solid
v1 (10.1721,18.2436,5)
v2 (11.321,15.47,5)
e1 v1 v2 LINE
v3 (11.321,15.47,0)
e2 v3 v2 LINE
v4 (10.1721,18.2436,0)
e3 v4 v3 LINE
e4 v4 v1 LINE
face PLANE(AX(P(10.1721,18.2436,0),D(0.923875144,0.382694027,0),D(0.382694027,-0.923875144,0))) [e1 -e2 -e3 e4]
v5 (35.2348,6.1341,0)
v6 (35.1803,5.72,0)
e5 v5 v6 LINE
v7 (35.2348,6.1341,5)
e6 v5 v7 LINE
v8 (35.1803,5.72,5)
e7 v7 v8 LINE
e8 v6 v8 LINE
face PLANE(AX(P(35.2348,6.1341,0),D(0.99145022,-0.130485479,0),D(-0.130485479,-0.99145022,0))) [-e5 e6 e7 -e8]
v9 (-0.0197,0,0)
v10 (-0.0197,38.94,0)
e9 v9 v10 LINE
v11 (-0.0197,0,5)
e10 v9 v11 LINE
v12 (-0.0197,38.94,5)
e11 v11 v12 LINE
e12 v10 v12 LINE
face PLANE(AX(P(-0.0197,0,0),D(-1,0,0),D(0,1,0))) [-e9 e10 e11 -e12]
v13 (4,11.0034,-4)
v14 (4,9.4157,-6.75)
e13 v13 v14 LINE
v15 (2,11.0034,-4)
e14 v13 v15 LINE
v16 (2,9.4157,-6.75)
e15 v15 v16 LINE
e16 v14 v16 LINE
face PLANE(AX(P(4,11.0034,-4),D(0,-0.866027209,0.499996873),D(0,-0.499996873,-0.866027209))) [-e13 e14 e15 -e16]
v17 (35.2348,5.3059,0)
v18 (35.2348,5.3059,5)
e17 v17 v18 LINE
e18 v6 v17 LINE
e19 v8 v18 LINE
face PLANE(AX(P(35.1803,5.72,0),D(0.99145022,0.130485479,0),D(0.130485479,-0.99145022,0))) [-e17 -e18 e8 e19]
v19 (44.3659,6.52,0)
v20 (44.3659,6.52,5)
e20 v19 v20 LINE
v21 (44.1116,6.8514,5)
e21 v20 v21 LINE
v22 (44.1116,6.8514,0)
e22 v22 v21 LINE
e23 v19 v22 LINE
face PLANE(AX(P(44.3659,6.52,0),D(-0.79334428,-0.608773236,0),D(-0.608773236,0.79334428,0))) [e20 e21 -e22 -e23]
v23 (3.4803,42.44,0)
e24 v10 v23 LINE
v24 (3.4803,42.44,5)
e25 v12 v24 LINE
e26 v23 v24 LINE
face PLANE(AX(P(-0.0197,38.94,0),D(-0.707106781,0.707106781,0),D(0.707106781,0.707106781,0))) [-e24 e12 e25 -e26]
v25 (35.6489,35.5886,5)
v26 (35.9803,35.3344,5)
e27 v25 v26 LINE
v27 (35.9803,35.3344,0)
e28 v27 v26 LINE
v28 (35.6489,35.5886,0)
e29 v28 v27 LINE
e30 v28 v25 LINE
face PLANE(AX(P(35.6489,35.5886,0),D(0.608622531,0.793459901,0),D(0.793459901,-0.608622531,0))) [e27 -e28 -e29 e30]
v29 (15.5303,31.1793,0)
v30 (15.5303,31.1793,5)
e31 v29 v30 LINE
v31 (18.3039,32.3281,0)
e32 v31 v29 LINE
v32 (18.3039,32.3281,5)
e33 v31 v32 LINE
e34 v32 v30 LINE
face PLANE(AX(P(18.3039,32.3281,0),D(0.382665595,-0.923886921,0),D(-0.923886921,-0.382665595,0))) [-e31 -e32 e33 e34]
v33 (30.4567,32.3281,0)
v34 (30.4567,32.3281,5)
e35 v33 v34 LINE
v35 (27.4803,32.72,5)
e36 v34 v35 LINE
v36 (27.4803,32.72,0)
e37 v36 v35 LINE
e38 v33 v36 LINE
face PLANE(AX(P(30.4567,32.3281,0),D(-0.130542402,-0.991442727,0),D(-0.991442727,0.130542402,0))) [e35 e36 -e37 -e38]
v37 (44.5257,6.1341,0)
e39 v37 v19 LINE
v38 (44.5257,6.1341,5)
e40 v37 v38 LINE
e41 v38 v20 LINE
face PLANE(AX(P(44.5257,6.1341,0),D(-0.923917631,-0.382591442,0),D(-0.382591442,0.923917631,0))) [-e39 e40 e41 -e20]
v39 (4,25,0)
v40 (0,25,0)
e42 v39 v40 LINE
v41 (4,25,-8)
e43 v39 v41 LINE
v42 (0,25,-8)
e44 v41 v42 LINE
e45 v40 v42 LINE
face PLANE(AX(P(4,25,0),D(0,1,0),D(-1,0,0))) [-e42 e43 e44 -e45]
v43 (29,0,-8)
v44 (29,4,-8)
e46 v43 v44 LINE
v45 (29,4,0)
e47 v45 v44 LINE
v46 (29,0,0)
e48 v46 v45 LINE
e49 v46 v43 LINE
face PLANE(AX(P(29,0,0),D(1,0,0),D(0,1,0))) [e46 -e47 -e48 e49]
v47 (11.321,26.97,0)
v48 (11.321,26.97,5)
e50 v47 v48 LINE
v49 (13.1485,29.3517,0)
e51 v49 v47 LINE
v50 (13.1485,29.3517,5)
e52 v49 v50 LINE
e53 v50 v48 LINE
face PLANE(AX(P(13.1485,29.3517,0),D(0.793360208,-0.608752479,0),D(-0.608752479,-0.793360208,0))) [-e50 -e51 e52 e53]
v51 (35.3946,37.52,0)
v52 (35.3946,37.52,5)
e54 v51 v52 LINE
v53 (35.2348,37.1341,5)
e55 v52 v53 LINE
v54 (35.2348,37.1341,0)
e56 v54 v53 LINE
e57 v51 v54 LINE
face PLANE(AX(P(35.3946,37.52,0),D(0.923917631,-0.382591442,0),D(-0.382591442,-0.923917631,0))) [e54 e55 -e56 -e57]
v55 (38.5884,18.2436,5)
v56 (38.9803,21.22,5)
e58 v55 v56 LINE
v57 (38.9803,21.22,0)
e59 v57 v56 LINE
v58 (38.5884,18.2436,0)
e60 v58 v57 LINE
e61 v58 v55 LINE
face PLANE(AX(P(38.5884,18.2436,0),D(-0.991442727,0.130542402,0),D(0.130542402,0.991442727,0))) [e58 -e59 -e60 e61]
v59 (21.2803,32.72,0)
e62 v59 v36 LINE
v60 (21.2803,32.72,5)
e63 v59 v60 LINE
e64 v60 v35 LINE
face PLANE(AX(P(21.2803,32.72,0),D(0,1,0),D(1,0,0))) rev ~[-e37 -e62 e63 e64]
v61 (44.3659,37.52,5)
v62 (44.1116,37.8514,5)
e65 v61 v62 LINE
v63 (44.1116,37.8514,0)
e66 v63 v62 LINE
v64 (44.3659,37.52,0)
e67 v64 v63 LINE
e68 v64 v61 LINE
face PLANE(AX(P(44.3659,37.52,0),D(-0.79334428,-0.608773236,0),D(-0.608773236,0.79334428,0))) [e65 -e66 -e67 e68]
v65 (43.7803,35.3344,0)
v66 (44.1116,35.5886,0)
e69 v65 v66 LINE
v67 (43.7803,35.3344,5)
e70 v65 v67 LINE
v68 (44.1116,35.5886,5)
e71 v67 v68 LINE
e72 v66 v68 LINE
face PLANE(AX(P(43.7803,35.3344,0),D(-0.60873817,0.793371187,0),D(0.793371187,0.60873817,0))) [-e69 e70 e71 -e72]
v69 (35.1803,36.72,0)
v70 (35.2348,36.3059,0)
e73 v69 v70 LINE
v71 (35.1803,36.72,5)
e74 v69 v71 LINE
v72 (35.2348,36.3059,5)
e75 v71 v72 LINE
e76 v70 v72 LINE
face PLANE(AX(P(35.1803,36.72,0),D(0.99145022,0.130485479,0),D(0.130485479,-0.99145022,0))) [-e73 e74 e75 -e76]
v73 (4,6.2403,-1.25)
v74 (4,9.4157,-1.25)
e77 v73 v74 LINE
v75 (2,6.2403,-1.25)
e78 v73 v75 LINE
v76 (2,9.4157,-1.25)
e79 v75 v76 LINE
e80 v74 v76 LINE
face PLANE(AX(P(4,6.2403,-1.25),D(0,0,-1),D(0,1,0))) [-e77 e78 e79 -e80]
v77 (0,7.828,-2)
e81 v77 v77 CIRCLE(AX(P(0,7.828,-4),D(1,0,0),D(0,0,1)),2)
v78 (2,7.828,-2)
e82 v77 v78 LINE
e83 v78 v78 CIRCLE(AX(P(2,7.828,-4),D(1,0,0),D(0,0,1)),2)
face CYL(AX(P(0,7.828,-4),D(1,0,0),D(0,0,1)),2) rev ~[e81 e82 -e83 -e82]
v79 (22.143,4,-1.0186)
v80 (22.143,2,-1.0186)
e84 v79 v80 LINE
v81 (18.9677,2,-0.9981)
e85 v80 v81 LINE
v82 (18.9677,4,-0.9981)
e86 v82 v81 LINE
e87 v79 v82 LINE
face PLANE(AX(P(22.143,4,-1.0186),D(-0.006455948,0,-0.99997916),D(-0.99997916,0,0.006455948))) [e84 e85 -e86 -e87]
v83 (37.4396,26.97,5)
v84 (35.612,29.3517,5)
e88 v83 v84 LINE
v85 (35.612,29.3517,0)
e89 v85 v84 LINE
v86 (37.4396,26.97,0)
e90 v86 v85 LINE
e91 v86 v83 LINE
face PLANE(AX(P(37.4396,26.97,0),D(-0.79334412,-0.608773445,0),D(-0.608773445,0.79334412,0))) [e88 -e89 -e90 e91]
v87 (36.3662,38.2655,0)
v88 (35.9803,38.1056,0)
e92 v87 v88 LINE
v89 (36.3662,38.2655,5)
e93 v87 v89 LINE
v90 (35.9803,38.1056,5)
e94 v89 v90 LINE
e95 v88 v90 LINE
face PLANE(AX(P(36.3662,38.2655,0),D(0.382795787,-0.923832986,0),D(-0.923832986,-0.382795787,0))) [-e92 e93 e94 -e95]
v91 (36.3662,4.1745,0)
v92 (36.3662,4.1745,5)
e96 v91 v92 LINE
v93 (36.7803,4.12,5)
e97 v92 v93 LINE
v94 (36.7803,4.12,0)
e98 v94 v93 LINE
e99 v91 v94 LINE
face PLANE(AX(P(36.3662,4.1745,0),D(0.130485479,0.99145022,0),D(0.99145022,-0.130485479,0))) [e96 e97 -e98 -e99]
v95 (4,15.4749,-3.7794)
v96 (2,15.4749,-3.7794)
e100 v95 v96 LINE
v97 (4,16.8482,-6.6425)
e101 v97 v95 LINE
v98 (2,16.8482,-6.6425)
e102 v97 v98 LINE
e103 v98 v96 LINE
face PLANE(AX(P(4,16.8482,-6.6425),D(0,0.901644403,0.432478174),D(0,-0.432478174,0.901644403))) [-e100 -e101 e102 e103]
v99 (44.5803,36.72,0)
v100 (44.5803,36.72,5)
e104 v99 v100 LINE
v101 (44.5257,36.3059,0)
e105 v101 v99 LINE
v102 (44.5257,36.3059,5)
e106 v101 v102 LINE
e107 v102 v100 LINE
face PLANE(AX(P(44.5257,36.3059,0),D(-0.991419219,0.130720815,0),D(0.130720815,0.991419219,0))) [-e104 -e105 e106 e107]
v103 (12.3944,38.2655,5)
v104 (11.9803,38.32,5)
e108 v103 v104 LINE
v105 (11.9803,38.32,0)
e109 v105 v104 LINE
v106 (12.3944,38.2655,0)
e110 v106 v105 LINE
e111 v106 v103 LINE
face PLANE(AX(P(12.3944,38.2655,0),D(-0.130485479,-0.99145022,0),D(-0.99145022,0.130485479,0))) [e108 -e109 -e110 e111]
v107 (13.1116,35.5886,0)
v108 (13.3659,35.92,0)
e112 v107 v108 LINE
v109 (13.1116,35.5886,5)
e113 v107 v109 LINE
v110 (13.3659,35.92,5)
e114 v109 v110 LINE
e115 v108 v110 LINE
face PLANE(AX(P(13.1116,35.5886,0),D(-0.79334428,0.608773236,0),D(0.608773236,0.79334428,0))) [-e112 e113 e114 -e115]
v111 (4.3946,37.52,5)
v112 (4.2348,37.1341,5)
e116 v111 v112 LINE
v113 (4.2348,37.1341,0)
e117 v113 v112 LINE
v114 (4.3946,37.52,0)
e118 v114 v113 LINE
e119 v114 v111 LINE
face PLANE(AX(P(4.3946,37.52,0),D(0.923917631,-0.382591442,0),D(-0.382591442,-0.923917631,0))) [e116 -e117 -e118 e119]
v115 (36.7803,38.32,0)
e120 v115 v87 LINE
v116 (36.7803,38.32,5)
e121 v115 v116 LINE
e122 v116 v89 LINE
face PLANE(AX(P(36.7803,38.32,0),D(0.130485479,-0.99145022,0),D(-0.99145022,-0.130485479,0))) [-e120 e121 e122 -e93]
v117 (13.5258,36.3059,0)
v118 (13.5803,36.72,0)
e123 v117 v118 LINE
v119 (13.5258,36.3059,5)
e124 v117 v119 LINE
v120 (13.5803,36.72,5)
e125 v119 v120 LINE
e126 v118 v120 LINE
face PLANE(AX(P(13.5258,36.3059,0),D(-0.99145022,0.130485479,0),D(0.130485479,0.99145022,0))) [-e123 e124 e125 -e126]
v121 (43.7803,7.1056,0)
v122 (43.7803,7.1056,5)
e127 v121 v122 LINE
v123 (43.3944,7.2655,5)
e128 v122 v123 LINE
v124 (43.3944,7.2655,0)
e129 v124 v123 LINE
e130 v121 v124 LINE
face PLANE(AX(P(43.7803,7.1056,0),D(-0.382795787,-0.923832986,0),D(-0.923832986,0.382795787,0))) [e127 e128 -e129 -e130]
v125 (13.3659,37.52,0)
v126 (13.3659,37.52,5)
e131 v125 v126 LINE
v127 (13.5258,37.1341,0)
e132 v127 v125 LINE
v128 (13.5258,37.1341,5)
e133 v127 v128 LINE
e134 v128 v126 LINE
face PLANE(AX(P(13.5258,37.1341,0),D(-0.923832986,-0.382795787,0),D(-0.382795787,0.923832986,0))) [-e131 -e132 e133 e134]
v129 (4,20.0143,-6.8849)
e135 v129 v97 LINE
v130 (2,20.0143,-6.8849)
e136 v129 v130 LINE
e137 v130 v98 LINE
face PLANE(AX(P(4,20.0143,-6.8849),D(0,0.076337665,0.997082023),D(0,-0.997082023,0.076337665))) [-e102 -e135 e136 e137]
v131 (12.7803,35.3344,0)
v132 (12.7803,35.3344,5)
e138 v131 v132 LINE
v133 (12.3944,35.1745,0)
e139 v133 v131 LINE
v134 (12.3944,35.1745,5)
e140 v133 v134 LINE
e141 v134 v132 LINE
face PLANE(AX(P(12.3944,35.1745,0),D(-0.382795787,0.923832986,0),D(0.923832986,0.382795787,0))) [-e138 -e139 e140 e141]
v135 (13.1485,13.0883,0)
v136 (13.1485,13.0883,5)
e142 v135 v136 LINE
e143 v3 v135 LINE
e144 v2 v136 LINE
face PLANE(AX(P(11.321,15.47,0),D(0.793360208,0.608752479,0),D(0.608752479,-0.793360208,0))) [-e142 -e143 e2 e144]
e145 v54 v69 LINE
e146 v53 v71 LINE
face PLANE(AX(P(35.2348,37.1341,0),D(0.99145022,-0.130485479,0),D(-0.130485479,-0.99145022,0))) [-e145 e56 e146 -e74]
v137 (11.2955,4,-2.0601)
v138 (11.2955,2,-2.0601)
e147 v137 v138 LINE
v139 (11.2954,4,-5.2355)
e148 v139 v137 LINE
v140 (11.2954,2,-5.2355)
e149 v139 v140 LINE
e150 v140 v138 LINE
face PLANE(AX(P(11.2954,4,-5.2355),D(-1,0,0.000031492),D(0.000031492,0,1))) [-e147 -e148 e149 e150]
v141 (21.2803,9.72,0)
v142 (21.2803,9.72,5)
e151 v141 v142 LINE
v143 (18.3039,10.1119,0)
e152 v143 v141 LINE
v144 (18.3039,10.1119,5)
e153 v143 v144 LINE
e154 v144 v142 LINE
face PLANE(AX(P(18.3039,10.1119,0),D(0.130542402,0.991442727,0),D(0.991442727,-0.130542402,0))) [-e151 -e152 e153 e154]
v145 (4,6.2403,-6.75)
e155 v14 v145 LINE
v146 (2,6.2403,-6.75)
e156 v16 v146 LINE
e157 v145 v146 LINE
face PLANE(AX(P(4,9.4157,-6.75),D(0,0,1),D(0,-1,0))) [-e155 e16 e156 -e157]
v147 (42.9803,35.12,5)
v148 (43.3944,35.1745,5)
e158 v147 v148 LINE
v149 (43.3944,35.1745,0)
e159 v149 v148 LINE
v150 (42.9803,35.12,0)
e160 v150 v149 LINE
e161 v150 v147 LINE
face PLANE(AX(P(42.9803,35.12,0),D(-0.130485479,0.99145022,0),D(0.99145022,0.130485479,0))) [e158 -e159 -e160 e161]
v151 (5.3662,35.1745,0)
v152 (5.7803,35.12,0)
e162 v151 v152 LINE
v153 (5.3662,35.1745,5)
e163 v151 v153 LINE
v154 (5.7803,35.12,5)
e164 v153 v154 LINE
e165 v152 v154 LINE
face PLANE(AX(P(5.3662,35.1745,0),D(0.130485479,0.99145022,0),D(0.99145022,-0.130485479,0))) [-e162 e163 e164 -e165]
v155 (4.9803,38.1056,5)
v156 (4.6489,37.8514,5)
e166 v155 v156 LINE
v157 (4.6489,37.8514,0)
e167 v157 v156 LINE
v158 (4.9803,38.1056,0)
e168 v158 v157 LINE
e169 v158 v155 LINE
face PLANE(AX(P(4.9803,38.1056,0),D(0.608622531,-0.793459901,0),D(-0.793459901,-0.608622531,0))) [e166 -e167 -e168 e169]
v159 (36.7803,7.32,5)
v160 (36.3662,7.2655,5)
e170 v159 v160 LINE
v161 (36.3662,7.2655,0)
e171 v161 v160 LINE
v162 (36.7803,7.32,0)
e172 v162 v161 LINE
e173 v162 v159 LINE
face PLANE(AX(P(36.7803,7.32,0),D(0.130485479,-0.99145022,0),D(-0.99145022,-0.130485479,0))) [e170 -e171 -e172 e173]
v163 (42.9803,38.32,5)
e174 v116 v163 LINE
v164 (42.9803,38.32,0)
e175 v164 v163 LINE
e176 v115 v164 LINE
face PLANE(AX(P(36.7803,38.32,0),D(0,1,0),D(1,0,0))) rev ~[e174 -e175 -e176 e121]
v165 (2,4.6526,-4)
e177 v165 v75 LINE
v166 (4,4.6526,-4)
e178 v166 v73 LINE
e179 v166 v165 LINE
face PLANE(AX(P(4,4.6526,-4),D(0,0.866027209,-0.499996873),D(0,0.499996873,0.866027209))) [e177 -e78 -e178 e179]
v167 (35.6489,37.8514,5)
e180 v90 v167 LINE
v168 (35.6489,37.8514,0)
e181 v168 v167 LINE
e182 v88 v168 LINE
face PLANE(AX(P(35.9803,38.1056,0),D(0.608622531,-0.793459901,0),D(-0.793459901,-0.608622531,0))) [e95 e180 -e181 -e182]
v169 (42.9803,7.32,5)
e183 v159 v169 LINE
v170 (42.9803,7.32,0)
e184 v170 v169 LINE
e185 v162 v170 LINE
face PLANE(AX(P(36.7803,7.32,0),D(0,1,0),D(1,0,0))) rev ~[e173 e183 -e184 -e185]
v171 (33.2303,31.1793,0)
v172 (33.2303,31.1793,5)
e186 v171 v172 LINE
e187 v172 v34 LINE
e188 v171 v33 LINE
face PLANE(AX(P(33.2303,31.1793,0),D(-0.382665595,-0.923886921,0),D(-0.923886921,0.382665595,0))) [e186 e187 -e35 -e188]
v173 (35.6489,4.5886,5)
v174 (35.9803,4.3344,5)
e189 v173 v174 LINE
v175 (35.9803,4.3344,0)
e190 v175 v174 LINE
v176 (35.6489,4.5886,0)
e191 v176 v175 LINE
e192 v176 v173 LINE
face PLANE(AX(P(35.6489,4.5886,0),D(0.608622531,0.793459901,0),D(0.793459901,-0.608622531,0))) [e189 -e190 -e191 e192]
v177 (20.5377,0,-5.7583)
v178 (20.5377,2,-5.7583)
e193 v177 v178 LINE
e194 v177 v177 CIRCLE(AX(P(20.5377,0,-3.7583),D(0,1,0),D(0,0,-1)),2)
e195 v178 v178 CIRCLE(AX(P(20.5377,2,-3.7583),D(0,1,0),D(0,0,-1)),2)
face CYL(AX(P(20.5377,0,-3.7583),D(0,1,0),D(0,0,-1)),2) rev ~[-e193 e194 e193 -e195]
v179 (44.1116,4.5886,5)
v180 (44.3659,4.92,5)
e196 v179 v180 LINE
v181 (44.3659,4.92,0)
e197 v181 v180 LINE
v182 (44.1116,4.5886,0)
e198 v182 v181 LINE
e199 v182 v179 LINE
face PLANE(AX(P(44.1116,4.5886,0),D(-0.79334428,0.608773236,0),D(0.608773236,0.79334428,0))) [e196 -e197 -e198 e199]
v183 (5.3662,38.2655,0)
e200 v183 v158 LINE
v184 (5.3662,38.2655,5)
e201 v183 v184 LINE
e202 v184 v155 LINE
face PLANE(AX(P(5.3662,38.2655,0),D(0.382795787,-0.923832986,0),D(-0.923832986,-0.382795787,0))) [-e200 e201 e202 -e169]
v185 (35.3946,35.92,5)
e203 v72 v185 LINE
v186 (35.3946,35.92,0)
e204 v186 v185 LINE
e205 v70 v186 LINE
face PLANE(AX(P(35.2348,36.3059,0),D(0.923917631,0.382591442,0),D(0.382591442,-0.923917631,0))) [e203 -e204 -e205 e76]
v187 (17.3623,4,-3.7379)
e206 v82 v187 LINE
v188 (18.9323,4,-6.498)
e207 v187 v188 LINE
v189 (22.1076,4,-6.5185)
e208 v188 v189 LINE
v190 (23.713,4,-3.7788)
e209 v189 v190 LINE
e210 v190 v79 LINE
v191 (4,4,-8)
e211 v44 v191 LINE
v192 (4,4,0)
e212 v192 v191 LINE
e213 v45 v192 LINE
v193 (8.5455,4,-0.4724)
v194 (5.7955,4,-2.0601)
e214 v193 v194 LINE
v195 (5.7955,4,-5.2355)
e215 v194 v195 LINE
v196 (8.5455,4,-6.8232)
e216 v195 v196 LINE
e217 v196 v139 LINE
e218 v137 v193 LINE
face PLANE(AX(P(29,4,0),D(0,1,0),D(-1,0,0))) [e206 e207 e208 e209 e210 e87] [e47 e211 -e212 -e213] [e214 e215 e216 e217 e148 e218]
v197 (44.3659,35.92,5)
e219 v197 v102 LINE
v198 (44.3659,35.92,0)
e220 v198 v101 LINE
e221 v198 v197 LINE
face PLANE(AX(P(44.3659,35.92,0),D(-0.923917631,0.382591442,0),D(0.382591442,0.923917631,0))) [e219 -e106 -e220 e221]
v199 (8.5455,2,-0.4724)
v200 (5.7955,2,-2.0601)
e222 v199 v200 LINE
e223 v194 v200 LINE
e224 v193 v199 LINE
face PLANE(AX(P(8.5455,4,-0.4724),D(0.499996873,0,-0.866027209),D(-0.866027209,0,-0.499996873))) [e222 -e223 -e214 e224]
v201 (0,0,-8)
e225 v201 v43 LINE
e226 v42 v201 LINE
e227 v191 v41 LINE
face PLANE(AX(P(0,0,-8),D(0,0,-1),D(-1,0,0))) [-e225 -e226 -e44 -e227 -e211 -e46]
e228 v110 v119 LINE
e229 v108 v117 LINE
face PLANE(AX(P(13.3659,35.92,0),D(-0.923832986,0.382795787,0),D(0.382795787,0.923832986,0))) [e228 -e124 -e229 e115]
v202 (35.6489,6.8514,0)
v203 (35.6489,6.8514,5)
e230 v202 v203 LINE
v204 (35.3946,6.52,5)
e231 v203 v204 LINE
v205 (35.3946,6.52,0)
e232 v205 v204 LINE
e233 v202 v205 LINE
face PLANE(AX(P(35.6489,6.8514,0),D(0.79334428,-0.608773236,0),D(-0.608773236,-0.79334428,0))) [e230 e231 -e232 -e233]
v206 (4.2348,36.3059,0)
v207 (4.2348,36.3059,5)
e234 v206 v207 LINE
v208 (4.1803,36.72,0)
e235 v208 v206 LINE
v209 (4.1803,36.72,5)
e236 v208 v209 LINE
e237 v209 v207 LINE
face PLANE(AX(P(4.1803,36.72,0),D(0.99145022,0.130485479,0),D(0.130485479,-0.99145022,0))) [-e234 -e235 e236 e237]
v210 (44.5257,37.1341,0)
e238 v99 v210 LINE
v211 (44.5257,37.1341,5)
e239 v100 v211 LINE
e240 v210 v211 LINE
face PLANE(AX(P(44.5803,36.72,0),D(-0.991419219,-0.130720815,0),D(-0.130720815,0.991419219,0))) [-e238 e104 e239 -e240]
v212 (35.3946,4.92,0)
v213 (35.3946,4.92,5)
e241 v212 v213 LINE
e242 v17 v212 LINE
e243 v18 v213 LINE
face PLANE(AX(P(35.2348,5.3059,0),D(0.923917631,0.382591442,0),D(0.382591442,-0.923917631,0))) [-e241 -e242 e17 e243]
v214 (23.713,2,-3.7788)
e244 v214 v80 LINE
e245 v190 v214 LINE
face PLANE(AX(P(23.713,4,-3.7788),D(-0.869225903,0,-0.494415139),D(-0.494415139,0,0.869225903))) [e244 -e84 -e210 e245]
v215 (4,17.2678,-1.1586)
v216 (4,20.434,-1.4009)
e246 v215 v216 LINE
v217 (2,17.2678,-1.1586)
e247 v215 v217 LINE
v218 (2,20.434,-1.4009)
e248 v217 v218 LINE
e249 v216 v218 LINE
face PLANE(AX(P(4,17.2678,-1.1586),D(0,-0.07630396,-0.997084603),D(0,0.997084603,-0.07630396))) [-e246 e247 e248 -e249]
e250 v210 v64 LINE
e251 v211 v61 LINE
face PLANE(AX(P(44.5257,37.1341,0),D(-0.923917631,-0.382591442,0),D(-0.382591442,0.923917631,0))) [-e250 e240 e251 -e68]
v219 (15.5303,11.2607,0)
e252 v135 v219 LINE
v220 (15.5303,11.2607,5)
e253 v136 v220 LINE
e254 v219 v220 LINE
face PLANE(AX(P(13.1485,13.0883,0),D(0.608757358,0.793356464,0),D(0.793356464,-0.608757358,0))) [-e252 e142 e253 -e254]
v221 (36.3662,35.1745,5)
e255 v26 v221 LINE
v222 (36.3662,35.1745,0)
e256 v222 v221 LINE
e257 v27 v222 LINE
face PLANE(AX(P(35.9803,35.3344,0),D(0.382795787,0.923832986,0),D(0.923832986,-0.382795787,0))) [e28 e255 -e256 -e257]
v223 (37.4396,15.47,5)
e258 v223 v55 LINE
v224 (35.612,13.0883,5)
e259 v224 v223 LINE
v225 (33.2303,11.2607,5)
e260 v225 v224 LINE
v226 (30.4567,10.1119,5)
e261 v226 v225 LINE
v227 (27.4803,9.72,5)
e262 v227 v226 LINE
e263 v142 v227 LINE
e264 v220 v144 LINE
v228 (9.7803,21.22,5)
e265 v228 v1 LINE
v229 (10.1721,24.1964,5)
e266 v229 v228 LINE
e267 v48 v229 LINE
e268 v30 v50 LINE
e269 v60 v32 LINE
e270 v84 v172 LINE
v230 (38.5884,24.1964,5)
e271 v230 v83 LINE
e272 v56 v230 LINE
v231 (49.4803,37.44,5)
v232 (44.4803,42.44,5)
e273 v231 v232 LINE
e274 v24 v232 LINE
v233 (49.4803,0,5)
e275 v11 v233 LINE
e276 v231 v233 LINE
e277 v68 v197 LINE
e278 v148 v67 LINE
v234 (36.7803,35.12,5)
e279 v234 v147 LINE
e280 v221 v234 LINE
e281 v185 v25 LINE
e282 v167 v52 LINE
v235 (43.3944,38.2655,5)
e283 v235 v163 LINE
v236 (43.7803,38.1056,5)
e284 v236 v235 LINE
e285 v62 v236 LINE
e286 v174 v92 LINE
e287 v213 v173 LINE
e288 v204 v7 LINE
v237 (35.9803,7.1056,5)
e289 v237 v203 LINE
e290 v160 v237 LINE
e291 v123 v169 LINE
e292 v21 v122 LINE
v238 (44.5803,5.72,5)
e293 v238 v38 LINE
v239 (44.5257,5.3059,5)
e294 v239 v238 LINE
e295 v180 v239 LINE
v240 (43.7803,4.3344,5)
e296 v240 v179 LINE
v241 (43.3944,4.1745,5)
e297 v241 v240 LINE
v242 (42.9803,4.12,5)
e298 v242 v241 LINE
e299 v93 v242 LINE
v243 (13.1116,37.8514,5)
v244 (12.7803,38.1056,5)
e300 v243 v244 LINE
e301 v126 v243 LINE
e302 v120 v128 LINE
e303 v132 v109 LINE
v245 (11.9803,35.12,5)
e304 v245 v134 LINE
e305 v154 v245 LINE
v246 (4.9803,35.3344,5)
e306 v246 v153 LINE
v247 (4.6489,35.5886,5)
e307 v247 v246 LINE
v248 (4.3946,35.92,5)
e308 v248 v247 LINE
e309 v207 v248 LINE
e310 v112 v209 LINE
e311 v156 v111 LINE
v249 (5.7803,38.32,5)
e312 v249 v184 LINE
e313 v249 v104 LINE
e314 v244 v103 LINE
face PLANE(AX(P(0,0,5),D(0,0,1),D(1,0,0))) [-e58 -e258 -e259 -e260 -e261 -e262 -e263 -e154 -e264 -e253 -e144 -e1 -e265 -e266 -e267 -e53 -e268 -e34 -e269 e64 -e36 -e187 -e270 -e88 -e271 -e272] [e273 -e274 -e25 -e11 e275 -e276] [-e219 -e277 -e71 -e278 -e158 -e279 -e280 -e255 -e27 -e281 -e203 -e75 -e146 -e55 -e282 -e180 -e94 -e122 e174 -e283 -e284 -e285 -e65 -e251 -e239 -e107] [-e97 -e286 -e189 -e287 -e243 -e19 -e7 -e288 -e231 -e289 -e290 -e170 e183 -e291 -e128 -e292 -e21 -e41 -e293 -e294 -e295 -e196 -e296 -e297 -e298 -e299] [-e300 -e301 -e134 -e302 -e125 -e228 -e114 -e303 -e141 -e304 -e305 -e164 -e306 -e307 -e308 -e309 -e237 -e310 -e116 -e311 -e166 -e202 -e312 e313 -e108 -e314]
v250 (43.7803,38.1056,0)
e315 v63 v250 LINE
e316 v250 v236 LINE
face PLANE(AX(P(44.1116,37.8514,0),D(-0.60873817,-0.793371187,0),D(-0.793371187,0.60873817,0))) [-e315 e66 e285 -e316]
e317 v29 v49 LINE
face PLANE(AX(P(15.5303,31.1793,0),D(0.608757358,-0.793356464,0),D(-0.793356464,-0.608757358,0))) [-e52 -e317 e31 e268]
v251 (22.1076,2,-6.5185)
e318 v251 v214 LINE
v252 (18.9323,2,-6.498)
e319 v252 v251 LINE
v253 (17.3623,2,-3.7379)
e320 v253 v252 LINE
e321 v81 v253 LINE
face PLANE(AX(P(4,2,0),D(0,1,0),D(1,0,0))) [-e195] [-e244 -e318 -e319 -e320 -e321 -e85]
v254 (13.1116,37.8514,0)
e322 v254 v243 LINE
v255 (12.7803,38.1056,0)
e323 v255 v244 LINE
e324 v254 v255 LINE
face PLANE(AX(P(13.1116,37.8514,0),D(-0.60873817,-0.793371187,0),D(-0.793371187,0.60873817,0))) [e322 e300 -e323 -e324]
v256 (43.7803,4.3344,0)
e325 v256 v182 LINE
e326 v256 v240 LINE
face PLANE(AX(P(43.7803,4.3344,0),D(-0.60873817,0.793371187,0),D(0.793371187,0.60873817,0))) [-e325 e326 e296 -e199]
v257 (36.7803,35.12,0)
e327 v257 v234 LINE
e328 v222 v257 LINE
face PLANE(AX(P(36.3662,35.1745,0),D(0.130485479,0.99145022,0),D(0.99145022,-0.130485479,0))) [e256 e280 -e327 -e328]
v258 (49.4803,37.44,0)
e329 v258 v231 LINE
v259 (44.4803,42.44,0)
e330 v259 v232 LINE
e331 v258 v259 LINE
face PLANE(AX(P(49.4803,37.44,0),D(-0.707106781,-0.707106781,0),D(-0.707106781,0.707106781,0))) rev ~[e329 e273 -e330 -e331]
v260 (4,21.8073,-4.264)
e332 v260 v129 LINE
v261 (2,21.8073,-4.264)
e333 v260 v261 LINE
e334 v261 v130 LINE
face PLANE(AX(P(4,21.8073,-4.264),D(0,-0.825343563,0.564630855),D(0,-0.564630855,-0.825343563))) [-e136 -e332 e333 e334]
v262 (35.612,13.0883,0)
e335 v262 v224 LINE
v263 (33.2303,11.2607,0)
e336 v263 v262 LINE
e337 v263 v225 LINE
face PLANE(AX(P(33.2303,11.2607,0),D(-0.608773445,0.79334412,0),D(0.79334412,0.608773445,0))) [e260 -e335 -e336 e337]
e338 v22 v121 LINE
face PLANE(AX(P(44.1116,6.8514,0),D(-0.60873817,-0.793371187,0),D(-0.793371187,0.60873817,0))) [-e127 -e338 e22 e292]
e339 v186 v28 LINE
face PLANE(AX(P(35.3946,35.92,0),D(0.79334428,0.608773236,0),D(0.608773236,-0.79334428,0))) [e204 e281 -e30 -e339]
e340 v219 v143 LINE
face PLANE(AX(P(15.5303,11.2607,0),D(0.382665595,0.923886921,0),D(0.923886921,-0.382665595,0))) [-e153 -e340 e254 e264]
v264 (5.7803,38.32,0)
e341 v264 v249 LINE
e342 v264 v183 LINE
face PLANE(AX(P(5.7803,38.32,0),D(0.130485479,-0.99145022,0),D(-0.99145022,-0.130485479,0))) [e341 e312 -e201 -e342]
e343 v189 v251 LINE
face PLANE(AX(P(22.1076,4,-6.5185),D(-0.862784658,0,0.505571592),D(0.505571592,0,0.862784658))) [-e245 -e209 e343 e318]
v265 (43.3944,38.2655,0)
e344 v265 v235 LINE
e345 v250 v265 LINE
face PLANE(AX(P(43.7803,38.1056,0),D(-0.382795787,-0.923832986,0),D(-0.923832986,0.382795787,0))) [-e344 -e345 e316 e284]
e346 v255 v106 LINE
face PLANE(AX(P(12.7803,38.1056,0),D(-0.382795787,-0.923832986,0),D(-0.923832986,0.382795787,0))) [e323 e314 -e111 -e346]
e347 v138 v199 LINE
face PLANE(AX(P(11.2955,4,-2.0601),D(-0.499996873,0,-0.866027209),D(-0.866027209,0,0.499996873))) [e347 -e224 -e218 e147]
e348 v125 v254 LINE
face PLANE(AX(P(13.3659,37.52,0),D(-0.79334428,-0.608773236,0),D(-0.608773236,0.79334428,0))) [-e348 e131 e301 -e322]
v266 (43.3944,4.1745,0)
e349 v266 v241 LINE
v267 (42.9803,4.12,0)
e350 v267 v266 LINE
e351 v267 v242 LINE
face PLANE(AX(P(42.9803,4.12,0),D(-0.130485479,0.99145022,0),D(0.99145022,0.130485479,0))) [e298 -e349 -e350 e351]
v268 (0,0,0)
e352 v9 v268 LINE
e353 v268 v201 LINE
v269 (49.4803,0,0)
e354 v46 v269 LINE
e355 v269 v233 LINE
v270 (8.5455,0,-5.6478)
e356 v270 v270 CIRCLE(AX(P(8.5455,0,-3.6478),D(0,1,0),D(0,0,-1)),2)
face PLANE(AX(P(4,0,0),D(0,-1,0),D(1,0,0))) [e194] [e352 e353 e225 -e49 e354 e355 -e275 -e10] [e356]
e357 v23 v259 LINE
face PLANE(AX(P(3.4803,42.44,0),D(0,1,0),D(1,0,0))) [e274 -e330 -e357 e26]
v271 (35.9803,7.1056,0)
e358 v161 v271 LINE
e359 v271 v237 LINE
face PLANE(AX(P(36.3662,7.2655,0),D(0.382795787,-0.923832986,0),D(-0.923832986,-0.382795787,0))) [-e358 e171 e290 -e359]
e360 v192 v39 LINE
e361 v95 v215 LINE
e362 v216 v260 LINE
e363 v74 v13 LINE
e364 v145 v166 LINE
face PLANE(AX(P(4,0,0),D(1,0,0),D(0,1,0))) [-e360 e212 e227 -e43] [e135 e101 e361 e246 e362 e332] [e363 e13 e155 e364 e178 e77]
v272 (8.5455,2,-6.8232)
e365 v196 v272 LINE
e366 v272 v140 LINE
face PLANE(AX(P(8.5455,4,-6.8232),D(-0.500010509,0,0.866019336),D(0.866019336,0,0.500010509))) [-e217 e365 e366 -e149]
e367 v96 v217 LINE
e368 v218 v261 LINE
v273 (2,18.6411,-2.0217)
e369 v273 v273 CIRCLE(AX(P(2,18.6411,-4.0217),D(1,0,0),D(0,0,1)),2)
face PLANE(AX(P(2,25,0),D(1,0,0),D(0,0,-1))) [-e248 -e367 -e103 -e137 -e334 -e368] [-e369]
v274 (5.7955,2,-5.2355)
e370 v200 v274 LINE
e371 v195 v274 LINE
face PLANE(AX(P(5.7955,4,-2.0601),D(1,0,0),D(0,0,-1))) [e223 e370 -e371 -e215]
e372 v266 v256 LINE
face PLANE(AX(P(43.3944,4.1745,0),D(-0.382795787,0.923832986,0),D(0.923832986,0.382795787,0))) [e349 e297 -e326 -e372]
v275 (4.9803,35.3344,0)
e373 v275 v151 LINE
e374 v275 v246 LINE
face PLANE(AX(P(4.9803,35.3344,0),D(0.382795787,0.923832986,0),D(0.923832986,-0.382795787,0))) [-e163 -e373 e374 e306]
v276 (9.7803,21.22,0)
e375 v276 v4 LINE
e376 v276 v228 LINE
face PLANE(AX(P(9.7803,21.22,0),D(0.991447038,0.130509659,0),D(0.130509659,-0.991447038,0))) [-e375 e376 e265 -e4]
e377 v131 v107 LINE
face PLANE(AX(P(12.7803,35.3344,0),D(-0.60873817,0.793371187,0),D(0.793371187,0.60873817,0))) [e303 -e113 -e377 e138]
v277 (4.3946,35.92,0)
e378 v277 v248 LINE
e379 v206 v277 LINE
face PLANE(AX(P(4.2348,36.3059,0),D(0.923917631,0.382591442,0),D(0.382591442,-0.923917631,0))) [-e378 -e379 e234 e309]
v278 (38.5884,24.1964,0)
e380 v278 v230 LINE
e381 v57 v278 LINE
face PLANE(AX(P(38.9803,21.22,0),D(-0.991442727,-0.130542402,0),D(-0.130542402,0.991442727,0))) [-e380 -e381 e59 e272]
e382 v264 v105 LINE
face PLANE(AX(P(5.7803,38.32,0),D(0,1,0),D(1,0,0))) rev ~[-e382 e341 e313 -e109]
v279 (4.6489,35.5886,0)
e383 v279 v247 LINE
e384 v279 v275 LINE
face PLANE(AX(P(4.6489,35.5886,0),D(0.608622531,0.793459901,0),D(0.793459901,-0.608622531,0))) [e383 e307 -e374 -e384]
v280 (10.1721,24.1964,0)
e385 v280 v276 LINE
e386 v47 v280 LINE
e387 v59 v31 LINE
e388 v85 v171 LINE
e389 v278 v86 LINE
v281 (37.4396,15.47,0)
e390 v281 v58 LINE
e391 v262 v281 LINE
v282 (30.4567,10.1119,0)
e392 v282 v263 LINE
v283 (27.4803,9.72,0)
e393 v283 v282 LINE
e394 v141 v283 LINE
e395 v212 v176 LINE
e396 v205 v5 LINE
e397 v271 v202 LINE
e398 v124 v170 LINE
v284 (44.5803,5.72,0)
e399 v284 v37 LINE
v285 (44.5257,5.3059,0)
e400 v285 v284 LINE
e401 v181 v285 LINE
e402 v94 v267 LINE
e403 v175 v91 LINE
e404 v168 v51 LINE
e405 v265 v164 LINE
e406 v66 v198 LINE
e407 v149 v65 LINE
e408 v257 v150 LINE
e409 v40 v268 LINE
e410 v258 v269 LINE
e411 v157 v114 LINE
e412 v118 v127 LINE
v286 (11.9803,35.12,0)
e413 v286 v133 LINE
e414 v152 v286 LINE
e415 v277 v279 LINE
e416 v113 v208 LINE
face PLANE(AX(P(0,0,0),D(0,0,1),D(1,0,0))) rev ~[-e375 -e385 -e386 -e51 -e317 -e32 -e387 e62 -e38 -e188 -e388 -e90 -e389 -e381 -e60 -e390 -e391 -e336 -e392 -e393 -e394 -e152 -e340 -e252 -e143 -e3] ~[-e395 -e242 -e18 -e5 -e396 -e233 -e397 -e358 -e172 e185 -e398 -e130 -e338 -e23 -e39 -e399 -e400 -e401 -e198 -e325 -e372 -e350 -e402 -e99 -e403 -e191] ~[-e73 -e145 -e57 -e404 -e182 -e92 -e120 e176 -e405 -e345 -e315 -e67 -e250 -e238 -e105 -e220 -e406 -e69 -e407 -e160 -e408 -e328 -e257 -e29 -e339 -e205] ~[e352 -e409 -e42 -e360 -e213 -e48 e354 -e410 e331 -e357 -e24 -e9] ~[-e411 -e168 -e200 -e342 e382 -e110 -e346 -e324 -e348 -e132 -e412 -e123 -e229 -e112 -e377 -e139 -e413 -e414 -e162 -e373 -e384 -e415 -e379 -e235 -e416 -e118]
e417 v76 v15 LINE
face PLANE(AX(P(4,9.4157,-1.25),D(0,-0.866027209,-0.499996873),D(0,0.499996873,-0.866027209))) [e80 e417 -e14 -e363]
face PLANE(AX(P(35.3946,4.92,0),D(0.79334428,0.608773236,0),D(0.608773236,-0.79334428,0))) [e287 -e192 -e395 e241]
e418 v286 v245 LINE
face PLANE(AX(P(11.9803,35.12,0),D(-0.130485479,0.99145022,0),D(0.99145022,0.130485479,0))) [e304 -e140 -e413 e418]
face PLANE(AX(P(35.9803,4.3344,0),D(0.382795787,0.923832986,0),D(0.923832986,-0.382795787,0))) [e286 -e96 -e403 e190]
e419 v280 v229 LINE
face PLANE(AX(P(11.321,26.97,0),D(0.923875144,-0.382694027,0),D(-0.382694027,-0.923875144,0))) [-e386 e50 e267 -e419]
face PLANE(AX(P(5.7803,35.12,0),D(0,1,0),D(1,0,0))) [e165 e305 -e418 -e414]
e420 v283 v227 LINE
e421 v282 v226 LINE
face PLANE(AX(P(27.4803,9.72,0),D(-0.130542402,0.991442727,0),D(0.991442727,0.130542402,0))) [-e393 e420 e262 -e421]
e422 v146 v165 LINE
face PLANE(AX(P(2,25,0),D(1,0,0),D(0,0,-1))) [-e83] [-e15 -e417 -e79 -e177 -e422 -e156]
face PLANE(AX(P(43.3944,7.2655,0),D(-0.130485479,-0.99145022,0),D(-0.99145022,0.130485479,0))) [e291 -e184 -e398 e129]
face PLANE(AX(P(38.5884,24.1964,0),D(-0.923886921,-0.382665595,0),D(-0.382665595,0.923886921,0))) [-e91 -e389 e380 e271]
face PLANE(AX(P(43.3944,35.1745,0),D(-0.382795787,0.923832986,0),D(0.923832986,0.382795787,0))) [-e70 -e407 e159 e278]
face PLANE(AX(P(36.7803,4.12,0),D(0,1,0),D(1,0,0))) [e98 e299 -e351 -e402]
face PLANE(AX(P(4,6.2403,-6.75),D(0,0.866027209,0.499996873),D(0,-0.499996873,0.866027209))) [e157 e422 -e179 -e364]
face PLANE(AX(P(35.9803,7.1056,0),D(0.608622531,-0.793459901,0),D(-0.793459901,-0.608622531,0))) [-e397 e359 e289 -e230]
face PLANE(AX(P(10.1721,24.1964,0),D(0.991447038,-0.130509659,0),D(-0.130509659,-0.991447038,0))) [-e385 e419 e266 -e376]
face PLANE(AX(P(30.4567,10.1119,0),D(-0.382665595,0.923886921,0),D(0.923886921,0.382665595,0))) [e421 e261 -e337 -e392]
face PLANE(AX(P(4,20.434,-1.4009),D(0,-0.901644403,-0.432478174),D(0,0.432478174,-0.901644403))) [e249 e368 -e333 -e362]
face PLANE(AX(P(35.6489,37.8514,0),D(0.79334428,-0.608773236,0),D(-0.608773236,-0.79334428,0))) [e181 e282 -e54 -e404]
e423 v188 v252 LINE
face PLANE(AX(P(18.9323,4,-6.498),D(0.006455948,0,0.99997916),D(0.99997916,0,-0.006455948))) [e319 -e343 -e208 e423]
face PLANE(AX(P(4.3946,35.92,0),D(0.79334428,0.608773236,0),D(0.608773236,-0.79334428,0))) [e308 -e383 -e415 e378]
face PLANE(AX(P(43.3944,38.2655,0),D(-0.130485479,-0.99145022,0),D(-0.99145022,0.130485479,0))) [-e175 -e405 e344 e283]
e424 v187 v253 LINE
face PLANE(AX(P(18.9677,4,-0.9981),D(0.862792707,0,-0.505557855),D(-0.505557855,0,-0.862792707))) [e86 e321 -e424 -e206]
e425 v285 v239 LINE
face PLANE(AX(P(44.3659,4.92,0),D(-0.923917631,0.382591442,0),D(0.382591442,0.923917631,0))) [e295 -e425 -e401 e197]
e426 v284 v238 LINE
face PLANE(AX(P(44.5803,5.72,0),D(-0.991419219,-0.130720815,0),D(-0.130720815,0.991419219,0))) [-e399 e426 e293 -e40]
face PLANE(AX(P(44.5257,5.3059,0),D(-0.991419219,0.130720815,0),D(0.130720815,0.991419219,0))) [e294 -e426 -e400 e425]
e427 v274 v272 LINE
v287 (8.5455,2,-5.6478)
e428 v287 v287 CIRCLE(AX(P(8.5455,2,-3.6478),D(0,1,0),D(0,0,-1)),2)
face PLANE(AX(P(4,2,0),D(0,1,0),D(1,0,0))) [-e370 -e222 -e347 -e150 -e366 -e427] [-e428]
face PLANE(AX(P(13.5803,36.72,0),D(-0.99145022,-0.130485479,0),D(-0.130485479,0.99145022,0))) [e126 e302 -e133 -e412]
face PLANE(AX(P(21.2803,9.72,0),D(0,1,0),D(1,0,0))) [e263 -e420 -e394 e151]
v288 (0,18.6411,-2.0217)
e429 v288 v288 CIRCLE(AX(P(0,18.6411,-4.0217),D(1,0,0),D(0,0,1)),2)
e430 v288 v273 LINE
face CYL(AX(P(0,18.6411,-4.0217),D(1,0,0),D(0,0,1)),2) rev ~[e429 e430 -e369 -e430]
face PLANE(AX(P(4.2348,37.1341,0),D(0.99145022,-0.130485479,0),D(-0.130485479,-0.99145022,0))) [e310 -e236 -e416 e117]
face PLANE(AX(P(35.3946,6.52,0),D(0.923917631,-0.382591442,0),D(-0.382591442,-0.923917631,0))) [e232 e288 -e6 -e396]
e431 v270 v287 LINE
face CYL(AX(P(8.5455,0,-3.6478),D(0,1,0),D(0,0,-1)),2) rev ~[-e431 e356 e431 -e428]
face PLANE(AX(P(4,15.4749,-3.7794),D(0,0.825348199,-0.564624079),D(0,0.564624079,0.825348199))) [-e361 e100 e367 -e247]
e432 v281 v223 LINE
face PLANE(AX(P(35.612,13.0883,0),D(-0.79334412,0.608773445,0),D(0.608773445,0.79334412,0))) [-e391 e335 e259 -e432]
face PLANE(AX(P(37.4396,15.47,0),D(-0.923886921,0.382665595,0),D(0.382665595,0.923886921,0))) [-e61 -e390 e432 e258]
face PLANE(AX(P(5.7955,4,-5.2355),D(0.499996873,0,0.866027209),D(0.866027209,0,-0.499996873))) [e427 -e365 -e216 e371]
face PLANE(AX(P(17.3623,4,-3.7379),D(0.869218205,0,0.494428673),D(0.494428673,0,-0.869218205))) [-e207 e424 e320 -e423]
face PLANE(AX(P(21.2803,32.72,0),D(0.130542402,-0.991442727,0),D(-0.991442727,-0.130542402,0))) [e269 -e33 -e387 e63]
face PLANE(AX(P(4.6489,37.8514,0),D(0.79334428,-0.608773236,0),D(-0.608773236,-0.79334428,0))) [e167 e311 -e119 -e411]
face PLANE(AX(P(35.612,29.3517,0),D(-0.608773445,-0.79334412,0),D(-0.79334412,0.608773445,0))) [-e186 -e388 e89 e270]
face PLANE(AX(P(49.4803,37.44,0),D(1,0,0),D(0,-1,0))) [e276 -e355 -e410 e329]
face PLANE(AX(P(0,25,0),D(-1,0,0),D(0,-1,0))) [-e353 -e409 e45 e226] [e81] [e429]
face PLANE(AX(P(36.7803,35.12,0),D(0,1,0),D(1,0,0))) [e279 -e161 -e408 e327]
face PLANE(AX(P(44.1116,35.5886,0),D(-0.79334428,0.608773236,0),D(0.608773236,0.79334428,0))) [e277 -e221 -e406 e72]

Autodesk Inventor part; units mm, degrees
ref_plane "YZ Plane" through (0, 0, 0) normal (1, 0, 0) x (0, 1, 0)
ref_plane "XZ Plane" through (0, 0, 0) normal (0, 1, 0) x (-1, 0, 0)
ref_plane "XY Plane" through (0, 0, 0) normal (0, 0, 1) x (1, 0, 0)
sketch "Sketch2" plane through (0, 0, 0) normal (0, 0, 1) x (1, 0, 0)
  line L0 (49.4803, 37.44) -> (44.4803, 42.44)
  line L1 (5.7803, 38.32) -> (5.3662, 38.2655)
  line L2 (4.9803, 38.1056) -> (4.6489, 37.8514)
  line L3 (3.4803, 42.44) -> (44.4803, 42.44)
  line L4 (-0.0197, 38.94) -> (3.4803, 42.44)
  line L5 (-0.0197, 0) -> (49.4803, 0)
  line L6 (49.4803, 37.44) -> (49.4803, 0)
  line L7 (4.2348, 36.3059) -> (4.3946, 35.92)
  line L8 (10.1721, 18.2436) -> (11.321, 15.47)
  line L9 (35.2348, 6.1341) -> (35.1803, 5.72)
  line L10 (4.6489, 35.5886) -> (4.9803, 35.3344)
  line L11 (36.7803, 38.32) -> (36.3662, 38.2655)
  line L12 (36.3662, 35.1745) -> (36.7803, 35.12)
  line L13 (35.3946, 35.92) -> (35.6489, 35.5886)
  line L14 (35.1803, 36.72) -> (35.2348, 36.3059)
  line L15 (35.2348, 5.3059) -> (35.3946, 4.92)
  line L16 (21.2803, 32.72) -> (18.3039, 32.3281)
  line L17 (35.2348, 37.1341) -> (35.1803, 36.72)
  line L18 (35.3946, 6.52) -> (35.2348, 6.1341)
  line L19 (35.9803, 7.1056) -> (35.6489, 6.8514)
  line L20 (36.7803, 7.32) -> (36.3662, 7.2655)
  line L21 (35.6489, 6.8514) -> (35.3946, 6.52)
  line L22 (35.9803, 35.3344) -> (36.3662, 35.1745)
  line L23 (4.6489, 37.8514) -> (4.3946, 37.52)
  line L24 (5.3662, 38.2655) -> (4.9803, 38.1056)
  line L25 (4.3946, 35.92) -> (4.6489, 35.5886)
  line L26 (35.6489, 35.5886) -> (35.9803, 35.3344)
  line L27 (36.3662, 38.2655) -> (35.9803, 38.1056)
  line L28 (5.3662, 35.1745) -> (5.7803, 35.12)
  line L29 (4.9803, 35.3344) -> (5.3662, 35.1745)
  line L30 (4.1803, 36.72) -> (4.2348, 36.3059)
  line L31 (4.2348, 37.1341) -> (4.1803, 36.72)
  line L32 (4.3946, 37.52) -> (4.2348, 37.1341)
  line L33 (18.3039, 10.1119) -> (21.2803, 9.72)
  line L34 (15.5303, 11.2607) -> (18.3039, 10.1119)
  line L35 (13.1485, 13.0883) -> (15.5303, 11.2607)
  line L36 (11.321, 15.47) -> (13.1485, 13.0883)
  line L37 (9.7803, 21.22) -> (10.1721, 18.2436)
  line L38 (10.1721, 24.1964) -> (9.7803, 21.22)
  line L39 (11.321, 26.97) -> (10.1721, 24.1964)
  line L40 (13.1485, 29.3517) -> (11.321, 26.97)
  line L41 (15.5303, 31.1793) -> (13.1485, 29.3517)
  line L42 (18.3039, 32.3281) -> (15.5303, 31.1793)
  line L43 (36.3662, 7.2655) -> (35.9803, 7.1056)
  line L44 (36.3662, 4.1745) -> (36.7803, 4.12)
  line L45 (35.9803, 4.3344) -> (36.3662, 4.1745)
  line L46 (35.6489, 4.5886) -> (35.9803, 4.3344)
  line L47 (35.3946, 4.92) -> (35.6489, 4.5886)
  line L48 (35.1803, 5.72) -> (35.2348, 5.3059)
  line L49 (35.2348, 36.3059) -> (35.3946, 35.92)
  line L50 (35.3946, 37.52) -> (35.2348, 37.1341)
  line L51 (35.6489, 37.8514) -> (35.3946, 37.52)
  line L52 (35.9803, 38.1056) -> (35.6489, 37.8514)
  line L53 (27.4803, 9.72) -> (30.4567, 10.1119)
  line L54 (35.612, 29.3517) -> (33.2303, 31.1793)
  line L55 (38.5884, 24.1964) -> (37.4396, 26.97)
  line L56 (12.7803, 35.3344) -> (13.1116, 35.5886)
  line L57 (30.4567, 10.1119) -> (33.2303, 11.2607)
  line L58 (38.9803, 21.22) -> (38.5884, 24.1964)
  line L59 (43.7803, 35.3344) -> (44.1116, 35.5886)
  line L60 (44.5257, 6.1341) -> (44.3659, 6.52)
  line L61 (38.5884, 18.2436) -> (38.9803, 21.22)
  line L62 (44.3659, 37.52) -> (44.1116, 37.8514)
  line L63 (44.1116, 37.8514) -> (43.7803, 38.1056)
  line L64 (13.3659, 35.92) -> (13.5258, 36.3059)
  line L65 (44.1116, 4.5886) -> (44.3659, 4.92)
  line L66 (43.3944, 38.2655) -> (42.9803, 38.32)
  line L67 (30.4567, 32.3281) -> (27.4803, 32.72)
  line L68 (44.1116, 35.5886) -> (44.3659, 35.92)
  line L69 (35.612, 13.0883) -> (37.4396, 15.47)
  line L70 (37.4396, 26.97) -> (35.612, 29.3517)
  line L71 (37.4396, 15.47) -> (38.5884, 18.2436)
  line L72 (43.7803, 4.3344) -> (44.1116, 4.5886)
  line L73 (13.1116, 37.8514) -> (12.7803, 38.1056)
  line L74 (33.2303, 31.1793) -> (30.4567, 32.3281)
  line L75 (12.7803, 38.1056) -> (12.3944, 38.2655)
  line L76 (44.3659, 6.52) -> (44.1116, 6.8514)
  line L77 (33.2303, 11.2607) -> (35.612, 13.0883)
  line L78 (42.9803, 4.12) -> (43.3944, 4.1745)
  line L79 (44.5257, 37.1341) -> (44.3659, 37.52)
  line L80 (43.7803, 7.1056) -> (43.3944, 7.2655)
  line L81 (44.5257, 5.3059) -> (44.5803, 5.72)
  line L82 (43.7803, 38.1056) -> (43.3944, 38.2655)
  line L83 (12.3944, 38.2655) -> (11.9803, 38.32)
  line L84 (44.3659, 35.92) -> (44.5257, 36.3059)
  line L85 (43.3944, 35.1745) -> (43.7803, 35.3344)
  line L86 (43.3944, 4.1745) -> (43.7803, 4.3344)
  line L87 (13.1116, 35.5886) -> (13.3659, 35.92)
  line L88 (11.9803, 35.12) -> (12.3944, 35.1745)
  line L89 (42.9803, 35.12) -> (43.3944, 35.1745)
  line L90 (44.5803, 5.72) -> (44.5257, 6.1341)
  line L91 (43.3944, 7.2655) -> (42.9803, 7.32)
  line L92 (13.5258, 36.3059) -> (13.5803, 36.72)
  line L93 (44.3659, 4.92) -> (44.5257, 5.3059)
  line L94 (13.5258, 37.1341) -> (13.3659, 37.52)
  line L95 (44.5803, 36.72) -> (44.5257, 37.1341)
  line L96 (44.5257, 36.3059) -> (44.5803, 36.72)
  line L97 (13.3659, 37.52) -> (13.1116, 37.8514)
  line L98 (44.1116, 6.8514) -> (43.7803, 7.1056)
  line L99 (12.3944, 35.1745) -> (12.7803, 35.3344)
  line L100 (13.5803, 36.72) -> (13.5258, 37.1341)
  line L101 (5.7803, 38.32) -> (11.9803, 38.32)
  line L102 (5.7803, 35.12) -> (11.9803, 35.12)
  line L103 (36.7803, 35.12) -> (42.9803, 35.12)
  line L104 (36.7803, 7.32) -> (42.9803, 7.32)
  line L105 (36.7803, 4.12) -> (42.9803, 4.12)
  line L106 (21.2803, 32.72) -> (27.4803, 32.72)
  line L107 (21.2803, 9.72) -> (27.4803, 9.72)
  line L108 (36.7803, 38.32) -> (42.9803, 38.32)
  line L109 (-0.0197, 0) -> (-0.0197, 38.94)
  point P0 (0, 0)
extrude "Extrusion1" add sketch "Sketch2" along normal blind 5
sketch "Sketch3" plane through (0, 0, 0) normal (0, 0, -1) x (-1, 0, 0)
  line L0 (0, 0) -> (-4, 0)
  line L1 (-4, 0) -> (-4, 25)
  line L2 (-4, 25) -> (0, 25)
  line L3 (0, 25) -> (0, 0)
  dimension "d2" = 4
  dimension "d3" = 25
extrude "Extrusion2" add sketch "Sketch3" along normal blind 8
sketch "Sketch4" plane through (0, 0, 0) normal (0, 0, -1) x (-1, 0, 0)
  line L0 (-4, 0) -> (-29, 0)
  line L1 (-29, 0) -> (-29, 4)
  line L2 (-29, 4) -> (-4, 4)
  line L3 (-4, 4) -> (-4, 0)
  dimension "d6" = 25
  dimension "d7" = 4
extrude "Extrusion3" add sketch "Sketch4" along normal blind 8
sketch "Sketch5" plane through (0, 0, 0) normal (-1, 0, 0) x (0, 0, 1)
  line L0 (0, 25) -> (0, 0) projected
  line L1 (0, 25) -> (-8, 25) projected
  line L2 (-8, 0) -> (-8, 25) projected
  line L3 (0, 0) -> (-8, 0) projected
  line L4 (-12.7767, 12.5) -> (11.2598, 12.5)
  line L5 (-4, 28.2185) -> (-4, -2.7903)
hole "Hole1" at (0, 7.828, -4) direction (1, 0, 0) diameter 4 end through all
hole "Hole2" at (0, 18.6411, -4.0217) direction (1, 0, 0) diameter 4 end through all
hole "Hole3" at (20.5377, 0, -3.7583) direction (0, 1, 0) diameter 4 end through all
hole "Hole4" at (8.5455, 0, -3.6478) direction (0, 1, 0) diameter 4 end through all
sketch "Sketch8" plane through (4, 25, 0) normal (1, 0, 0) x (0, 0, -1)
  circle A0 centre (4.0217, -6.3589) radius 2 projected
  line L0 (3.7794, -9.5251) -> (1.1586, -7.7322)
  line L1 (1.1586, -7.7322) -> (1.4009, -4.566)
  line L2 (1.4009, -4.566) -> (4.264, -3.1927)
  line L3 (4.264, -3.1927) -> (6.8849, -4.9857)
  line L4 (6.8849, -4.9857) -> (6.6425, -8.1518)
  line L5 (6.6425, -8.1518) -> (3.7794, -9.5251)
  point P0 (0, -25)
  point P1 (5.211, -8.8385)
extrude "Extrusion6" cut sketch "Sketch8" against normal blind 2
sketch "Sketch11" plane through (4, 25, 0) normal (1, 0, 0) x (0, 0, -1)
  circle A0 centre (4, -17.172) radius 2 projected
  line L0 (6.75, -18.7597) -> (4, -20.3474)
  line L1 (4, -20.3474) -> (1.25, -18.7597)
  line L2 (1.25, -18.7597) -> (1.25, -15.5843)
  line L3 (1.25, -15.5843) -> (4, -13.9966)
  line L4 (4, -13.9966) -> (6.75, -15.5843)
  line L5 (6.75, -15.5843) -> (6.75, -18.7597)
  point P0 (0, -25)
  point P1 (6.75, -17.172)
extrude "Extrusion8" cut sketch "Sketch11" against normal blind 2
sketch "Sketch12" plane through (4, 4, 0) normal (0, 1, 0) x (1, 0, 0)
  circle A0 centre (4.5455, 3.6478) radius 2 projected
  line L0 (7.2955, 2.0601) -> (4.5455, 0.4724)
  line L1 (4.5455, 0.4724) -> (1.7955, 2.0601)
  line L2 (1.7955, 2.0601) -> (1.7955, 5.2355)
  line L3 (1.7955, 5.2355) -> (4.5455, 6.8232)
  line L4 (4.5455, 6.8232) -> (7.2954, 5.2355)
  line L5 (7.2954, 5.2355) -> (7.2955, 2.0601)
  point P0 (-4, 0)
  point P1 (7.2955, 3.6478)
extrude "Extrusion9" cut sketch "Sketch12" against normal blind 2
sketch "Sketch13" plane through (4, 4, 0) normal (0, 1, 0) x (1, 0, 0)
  circle A0 centre (16.5377, 3.7583) radius 2 projected
  line L0 (18.143, 1.0186) -> (14.9677, 0.9981)
  line L1 (14.9677, 0.9981) -> (13.3623, 3.7379)
  line L2 (13.3623, 3.7379) -> (14.9323, 6.498)
  line L3 (14.9323, 6.498) -> (18.1076, 6.5185)
  line L4 (18.1076, 6.5185) -> (19.713, 3.7788)
  line L5 (19.713, 3.7788) -> (18.143, 1.0186)
  point P0 (-4, 0)
  point P1 (18.928, 2.3987)
extrude "Extrusion10" cut sketch "Sketch13" against normal blind 2
properties part number "Y motor mount"
